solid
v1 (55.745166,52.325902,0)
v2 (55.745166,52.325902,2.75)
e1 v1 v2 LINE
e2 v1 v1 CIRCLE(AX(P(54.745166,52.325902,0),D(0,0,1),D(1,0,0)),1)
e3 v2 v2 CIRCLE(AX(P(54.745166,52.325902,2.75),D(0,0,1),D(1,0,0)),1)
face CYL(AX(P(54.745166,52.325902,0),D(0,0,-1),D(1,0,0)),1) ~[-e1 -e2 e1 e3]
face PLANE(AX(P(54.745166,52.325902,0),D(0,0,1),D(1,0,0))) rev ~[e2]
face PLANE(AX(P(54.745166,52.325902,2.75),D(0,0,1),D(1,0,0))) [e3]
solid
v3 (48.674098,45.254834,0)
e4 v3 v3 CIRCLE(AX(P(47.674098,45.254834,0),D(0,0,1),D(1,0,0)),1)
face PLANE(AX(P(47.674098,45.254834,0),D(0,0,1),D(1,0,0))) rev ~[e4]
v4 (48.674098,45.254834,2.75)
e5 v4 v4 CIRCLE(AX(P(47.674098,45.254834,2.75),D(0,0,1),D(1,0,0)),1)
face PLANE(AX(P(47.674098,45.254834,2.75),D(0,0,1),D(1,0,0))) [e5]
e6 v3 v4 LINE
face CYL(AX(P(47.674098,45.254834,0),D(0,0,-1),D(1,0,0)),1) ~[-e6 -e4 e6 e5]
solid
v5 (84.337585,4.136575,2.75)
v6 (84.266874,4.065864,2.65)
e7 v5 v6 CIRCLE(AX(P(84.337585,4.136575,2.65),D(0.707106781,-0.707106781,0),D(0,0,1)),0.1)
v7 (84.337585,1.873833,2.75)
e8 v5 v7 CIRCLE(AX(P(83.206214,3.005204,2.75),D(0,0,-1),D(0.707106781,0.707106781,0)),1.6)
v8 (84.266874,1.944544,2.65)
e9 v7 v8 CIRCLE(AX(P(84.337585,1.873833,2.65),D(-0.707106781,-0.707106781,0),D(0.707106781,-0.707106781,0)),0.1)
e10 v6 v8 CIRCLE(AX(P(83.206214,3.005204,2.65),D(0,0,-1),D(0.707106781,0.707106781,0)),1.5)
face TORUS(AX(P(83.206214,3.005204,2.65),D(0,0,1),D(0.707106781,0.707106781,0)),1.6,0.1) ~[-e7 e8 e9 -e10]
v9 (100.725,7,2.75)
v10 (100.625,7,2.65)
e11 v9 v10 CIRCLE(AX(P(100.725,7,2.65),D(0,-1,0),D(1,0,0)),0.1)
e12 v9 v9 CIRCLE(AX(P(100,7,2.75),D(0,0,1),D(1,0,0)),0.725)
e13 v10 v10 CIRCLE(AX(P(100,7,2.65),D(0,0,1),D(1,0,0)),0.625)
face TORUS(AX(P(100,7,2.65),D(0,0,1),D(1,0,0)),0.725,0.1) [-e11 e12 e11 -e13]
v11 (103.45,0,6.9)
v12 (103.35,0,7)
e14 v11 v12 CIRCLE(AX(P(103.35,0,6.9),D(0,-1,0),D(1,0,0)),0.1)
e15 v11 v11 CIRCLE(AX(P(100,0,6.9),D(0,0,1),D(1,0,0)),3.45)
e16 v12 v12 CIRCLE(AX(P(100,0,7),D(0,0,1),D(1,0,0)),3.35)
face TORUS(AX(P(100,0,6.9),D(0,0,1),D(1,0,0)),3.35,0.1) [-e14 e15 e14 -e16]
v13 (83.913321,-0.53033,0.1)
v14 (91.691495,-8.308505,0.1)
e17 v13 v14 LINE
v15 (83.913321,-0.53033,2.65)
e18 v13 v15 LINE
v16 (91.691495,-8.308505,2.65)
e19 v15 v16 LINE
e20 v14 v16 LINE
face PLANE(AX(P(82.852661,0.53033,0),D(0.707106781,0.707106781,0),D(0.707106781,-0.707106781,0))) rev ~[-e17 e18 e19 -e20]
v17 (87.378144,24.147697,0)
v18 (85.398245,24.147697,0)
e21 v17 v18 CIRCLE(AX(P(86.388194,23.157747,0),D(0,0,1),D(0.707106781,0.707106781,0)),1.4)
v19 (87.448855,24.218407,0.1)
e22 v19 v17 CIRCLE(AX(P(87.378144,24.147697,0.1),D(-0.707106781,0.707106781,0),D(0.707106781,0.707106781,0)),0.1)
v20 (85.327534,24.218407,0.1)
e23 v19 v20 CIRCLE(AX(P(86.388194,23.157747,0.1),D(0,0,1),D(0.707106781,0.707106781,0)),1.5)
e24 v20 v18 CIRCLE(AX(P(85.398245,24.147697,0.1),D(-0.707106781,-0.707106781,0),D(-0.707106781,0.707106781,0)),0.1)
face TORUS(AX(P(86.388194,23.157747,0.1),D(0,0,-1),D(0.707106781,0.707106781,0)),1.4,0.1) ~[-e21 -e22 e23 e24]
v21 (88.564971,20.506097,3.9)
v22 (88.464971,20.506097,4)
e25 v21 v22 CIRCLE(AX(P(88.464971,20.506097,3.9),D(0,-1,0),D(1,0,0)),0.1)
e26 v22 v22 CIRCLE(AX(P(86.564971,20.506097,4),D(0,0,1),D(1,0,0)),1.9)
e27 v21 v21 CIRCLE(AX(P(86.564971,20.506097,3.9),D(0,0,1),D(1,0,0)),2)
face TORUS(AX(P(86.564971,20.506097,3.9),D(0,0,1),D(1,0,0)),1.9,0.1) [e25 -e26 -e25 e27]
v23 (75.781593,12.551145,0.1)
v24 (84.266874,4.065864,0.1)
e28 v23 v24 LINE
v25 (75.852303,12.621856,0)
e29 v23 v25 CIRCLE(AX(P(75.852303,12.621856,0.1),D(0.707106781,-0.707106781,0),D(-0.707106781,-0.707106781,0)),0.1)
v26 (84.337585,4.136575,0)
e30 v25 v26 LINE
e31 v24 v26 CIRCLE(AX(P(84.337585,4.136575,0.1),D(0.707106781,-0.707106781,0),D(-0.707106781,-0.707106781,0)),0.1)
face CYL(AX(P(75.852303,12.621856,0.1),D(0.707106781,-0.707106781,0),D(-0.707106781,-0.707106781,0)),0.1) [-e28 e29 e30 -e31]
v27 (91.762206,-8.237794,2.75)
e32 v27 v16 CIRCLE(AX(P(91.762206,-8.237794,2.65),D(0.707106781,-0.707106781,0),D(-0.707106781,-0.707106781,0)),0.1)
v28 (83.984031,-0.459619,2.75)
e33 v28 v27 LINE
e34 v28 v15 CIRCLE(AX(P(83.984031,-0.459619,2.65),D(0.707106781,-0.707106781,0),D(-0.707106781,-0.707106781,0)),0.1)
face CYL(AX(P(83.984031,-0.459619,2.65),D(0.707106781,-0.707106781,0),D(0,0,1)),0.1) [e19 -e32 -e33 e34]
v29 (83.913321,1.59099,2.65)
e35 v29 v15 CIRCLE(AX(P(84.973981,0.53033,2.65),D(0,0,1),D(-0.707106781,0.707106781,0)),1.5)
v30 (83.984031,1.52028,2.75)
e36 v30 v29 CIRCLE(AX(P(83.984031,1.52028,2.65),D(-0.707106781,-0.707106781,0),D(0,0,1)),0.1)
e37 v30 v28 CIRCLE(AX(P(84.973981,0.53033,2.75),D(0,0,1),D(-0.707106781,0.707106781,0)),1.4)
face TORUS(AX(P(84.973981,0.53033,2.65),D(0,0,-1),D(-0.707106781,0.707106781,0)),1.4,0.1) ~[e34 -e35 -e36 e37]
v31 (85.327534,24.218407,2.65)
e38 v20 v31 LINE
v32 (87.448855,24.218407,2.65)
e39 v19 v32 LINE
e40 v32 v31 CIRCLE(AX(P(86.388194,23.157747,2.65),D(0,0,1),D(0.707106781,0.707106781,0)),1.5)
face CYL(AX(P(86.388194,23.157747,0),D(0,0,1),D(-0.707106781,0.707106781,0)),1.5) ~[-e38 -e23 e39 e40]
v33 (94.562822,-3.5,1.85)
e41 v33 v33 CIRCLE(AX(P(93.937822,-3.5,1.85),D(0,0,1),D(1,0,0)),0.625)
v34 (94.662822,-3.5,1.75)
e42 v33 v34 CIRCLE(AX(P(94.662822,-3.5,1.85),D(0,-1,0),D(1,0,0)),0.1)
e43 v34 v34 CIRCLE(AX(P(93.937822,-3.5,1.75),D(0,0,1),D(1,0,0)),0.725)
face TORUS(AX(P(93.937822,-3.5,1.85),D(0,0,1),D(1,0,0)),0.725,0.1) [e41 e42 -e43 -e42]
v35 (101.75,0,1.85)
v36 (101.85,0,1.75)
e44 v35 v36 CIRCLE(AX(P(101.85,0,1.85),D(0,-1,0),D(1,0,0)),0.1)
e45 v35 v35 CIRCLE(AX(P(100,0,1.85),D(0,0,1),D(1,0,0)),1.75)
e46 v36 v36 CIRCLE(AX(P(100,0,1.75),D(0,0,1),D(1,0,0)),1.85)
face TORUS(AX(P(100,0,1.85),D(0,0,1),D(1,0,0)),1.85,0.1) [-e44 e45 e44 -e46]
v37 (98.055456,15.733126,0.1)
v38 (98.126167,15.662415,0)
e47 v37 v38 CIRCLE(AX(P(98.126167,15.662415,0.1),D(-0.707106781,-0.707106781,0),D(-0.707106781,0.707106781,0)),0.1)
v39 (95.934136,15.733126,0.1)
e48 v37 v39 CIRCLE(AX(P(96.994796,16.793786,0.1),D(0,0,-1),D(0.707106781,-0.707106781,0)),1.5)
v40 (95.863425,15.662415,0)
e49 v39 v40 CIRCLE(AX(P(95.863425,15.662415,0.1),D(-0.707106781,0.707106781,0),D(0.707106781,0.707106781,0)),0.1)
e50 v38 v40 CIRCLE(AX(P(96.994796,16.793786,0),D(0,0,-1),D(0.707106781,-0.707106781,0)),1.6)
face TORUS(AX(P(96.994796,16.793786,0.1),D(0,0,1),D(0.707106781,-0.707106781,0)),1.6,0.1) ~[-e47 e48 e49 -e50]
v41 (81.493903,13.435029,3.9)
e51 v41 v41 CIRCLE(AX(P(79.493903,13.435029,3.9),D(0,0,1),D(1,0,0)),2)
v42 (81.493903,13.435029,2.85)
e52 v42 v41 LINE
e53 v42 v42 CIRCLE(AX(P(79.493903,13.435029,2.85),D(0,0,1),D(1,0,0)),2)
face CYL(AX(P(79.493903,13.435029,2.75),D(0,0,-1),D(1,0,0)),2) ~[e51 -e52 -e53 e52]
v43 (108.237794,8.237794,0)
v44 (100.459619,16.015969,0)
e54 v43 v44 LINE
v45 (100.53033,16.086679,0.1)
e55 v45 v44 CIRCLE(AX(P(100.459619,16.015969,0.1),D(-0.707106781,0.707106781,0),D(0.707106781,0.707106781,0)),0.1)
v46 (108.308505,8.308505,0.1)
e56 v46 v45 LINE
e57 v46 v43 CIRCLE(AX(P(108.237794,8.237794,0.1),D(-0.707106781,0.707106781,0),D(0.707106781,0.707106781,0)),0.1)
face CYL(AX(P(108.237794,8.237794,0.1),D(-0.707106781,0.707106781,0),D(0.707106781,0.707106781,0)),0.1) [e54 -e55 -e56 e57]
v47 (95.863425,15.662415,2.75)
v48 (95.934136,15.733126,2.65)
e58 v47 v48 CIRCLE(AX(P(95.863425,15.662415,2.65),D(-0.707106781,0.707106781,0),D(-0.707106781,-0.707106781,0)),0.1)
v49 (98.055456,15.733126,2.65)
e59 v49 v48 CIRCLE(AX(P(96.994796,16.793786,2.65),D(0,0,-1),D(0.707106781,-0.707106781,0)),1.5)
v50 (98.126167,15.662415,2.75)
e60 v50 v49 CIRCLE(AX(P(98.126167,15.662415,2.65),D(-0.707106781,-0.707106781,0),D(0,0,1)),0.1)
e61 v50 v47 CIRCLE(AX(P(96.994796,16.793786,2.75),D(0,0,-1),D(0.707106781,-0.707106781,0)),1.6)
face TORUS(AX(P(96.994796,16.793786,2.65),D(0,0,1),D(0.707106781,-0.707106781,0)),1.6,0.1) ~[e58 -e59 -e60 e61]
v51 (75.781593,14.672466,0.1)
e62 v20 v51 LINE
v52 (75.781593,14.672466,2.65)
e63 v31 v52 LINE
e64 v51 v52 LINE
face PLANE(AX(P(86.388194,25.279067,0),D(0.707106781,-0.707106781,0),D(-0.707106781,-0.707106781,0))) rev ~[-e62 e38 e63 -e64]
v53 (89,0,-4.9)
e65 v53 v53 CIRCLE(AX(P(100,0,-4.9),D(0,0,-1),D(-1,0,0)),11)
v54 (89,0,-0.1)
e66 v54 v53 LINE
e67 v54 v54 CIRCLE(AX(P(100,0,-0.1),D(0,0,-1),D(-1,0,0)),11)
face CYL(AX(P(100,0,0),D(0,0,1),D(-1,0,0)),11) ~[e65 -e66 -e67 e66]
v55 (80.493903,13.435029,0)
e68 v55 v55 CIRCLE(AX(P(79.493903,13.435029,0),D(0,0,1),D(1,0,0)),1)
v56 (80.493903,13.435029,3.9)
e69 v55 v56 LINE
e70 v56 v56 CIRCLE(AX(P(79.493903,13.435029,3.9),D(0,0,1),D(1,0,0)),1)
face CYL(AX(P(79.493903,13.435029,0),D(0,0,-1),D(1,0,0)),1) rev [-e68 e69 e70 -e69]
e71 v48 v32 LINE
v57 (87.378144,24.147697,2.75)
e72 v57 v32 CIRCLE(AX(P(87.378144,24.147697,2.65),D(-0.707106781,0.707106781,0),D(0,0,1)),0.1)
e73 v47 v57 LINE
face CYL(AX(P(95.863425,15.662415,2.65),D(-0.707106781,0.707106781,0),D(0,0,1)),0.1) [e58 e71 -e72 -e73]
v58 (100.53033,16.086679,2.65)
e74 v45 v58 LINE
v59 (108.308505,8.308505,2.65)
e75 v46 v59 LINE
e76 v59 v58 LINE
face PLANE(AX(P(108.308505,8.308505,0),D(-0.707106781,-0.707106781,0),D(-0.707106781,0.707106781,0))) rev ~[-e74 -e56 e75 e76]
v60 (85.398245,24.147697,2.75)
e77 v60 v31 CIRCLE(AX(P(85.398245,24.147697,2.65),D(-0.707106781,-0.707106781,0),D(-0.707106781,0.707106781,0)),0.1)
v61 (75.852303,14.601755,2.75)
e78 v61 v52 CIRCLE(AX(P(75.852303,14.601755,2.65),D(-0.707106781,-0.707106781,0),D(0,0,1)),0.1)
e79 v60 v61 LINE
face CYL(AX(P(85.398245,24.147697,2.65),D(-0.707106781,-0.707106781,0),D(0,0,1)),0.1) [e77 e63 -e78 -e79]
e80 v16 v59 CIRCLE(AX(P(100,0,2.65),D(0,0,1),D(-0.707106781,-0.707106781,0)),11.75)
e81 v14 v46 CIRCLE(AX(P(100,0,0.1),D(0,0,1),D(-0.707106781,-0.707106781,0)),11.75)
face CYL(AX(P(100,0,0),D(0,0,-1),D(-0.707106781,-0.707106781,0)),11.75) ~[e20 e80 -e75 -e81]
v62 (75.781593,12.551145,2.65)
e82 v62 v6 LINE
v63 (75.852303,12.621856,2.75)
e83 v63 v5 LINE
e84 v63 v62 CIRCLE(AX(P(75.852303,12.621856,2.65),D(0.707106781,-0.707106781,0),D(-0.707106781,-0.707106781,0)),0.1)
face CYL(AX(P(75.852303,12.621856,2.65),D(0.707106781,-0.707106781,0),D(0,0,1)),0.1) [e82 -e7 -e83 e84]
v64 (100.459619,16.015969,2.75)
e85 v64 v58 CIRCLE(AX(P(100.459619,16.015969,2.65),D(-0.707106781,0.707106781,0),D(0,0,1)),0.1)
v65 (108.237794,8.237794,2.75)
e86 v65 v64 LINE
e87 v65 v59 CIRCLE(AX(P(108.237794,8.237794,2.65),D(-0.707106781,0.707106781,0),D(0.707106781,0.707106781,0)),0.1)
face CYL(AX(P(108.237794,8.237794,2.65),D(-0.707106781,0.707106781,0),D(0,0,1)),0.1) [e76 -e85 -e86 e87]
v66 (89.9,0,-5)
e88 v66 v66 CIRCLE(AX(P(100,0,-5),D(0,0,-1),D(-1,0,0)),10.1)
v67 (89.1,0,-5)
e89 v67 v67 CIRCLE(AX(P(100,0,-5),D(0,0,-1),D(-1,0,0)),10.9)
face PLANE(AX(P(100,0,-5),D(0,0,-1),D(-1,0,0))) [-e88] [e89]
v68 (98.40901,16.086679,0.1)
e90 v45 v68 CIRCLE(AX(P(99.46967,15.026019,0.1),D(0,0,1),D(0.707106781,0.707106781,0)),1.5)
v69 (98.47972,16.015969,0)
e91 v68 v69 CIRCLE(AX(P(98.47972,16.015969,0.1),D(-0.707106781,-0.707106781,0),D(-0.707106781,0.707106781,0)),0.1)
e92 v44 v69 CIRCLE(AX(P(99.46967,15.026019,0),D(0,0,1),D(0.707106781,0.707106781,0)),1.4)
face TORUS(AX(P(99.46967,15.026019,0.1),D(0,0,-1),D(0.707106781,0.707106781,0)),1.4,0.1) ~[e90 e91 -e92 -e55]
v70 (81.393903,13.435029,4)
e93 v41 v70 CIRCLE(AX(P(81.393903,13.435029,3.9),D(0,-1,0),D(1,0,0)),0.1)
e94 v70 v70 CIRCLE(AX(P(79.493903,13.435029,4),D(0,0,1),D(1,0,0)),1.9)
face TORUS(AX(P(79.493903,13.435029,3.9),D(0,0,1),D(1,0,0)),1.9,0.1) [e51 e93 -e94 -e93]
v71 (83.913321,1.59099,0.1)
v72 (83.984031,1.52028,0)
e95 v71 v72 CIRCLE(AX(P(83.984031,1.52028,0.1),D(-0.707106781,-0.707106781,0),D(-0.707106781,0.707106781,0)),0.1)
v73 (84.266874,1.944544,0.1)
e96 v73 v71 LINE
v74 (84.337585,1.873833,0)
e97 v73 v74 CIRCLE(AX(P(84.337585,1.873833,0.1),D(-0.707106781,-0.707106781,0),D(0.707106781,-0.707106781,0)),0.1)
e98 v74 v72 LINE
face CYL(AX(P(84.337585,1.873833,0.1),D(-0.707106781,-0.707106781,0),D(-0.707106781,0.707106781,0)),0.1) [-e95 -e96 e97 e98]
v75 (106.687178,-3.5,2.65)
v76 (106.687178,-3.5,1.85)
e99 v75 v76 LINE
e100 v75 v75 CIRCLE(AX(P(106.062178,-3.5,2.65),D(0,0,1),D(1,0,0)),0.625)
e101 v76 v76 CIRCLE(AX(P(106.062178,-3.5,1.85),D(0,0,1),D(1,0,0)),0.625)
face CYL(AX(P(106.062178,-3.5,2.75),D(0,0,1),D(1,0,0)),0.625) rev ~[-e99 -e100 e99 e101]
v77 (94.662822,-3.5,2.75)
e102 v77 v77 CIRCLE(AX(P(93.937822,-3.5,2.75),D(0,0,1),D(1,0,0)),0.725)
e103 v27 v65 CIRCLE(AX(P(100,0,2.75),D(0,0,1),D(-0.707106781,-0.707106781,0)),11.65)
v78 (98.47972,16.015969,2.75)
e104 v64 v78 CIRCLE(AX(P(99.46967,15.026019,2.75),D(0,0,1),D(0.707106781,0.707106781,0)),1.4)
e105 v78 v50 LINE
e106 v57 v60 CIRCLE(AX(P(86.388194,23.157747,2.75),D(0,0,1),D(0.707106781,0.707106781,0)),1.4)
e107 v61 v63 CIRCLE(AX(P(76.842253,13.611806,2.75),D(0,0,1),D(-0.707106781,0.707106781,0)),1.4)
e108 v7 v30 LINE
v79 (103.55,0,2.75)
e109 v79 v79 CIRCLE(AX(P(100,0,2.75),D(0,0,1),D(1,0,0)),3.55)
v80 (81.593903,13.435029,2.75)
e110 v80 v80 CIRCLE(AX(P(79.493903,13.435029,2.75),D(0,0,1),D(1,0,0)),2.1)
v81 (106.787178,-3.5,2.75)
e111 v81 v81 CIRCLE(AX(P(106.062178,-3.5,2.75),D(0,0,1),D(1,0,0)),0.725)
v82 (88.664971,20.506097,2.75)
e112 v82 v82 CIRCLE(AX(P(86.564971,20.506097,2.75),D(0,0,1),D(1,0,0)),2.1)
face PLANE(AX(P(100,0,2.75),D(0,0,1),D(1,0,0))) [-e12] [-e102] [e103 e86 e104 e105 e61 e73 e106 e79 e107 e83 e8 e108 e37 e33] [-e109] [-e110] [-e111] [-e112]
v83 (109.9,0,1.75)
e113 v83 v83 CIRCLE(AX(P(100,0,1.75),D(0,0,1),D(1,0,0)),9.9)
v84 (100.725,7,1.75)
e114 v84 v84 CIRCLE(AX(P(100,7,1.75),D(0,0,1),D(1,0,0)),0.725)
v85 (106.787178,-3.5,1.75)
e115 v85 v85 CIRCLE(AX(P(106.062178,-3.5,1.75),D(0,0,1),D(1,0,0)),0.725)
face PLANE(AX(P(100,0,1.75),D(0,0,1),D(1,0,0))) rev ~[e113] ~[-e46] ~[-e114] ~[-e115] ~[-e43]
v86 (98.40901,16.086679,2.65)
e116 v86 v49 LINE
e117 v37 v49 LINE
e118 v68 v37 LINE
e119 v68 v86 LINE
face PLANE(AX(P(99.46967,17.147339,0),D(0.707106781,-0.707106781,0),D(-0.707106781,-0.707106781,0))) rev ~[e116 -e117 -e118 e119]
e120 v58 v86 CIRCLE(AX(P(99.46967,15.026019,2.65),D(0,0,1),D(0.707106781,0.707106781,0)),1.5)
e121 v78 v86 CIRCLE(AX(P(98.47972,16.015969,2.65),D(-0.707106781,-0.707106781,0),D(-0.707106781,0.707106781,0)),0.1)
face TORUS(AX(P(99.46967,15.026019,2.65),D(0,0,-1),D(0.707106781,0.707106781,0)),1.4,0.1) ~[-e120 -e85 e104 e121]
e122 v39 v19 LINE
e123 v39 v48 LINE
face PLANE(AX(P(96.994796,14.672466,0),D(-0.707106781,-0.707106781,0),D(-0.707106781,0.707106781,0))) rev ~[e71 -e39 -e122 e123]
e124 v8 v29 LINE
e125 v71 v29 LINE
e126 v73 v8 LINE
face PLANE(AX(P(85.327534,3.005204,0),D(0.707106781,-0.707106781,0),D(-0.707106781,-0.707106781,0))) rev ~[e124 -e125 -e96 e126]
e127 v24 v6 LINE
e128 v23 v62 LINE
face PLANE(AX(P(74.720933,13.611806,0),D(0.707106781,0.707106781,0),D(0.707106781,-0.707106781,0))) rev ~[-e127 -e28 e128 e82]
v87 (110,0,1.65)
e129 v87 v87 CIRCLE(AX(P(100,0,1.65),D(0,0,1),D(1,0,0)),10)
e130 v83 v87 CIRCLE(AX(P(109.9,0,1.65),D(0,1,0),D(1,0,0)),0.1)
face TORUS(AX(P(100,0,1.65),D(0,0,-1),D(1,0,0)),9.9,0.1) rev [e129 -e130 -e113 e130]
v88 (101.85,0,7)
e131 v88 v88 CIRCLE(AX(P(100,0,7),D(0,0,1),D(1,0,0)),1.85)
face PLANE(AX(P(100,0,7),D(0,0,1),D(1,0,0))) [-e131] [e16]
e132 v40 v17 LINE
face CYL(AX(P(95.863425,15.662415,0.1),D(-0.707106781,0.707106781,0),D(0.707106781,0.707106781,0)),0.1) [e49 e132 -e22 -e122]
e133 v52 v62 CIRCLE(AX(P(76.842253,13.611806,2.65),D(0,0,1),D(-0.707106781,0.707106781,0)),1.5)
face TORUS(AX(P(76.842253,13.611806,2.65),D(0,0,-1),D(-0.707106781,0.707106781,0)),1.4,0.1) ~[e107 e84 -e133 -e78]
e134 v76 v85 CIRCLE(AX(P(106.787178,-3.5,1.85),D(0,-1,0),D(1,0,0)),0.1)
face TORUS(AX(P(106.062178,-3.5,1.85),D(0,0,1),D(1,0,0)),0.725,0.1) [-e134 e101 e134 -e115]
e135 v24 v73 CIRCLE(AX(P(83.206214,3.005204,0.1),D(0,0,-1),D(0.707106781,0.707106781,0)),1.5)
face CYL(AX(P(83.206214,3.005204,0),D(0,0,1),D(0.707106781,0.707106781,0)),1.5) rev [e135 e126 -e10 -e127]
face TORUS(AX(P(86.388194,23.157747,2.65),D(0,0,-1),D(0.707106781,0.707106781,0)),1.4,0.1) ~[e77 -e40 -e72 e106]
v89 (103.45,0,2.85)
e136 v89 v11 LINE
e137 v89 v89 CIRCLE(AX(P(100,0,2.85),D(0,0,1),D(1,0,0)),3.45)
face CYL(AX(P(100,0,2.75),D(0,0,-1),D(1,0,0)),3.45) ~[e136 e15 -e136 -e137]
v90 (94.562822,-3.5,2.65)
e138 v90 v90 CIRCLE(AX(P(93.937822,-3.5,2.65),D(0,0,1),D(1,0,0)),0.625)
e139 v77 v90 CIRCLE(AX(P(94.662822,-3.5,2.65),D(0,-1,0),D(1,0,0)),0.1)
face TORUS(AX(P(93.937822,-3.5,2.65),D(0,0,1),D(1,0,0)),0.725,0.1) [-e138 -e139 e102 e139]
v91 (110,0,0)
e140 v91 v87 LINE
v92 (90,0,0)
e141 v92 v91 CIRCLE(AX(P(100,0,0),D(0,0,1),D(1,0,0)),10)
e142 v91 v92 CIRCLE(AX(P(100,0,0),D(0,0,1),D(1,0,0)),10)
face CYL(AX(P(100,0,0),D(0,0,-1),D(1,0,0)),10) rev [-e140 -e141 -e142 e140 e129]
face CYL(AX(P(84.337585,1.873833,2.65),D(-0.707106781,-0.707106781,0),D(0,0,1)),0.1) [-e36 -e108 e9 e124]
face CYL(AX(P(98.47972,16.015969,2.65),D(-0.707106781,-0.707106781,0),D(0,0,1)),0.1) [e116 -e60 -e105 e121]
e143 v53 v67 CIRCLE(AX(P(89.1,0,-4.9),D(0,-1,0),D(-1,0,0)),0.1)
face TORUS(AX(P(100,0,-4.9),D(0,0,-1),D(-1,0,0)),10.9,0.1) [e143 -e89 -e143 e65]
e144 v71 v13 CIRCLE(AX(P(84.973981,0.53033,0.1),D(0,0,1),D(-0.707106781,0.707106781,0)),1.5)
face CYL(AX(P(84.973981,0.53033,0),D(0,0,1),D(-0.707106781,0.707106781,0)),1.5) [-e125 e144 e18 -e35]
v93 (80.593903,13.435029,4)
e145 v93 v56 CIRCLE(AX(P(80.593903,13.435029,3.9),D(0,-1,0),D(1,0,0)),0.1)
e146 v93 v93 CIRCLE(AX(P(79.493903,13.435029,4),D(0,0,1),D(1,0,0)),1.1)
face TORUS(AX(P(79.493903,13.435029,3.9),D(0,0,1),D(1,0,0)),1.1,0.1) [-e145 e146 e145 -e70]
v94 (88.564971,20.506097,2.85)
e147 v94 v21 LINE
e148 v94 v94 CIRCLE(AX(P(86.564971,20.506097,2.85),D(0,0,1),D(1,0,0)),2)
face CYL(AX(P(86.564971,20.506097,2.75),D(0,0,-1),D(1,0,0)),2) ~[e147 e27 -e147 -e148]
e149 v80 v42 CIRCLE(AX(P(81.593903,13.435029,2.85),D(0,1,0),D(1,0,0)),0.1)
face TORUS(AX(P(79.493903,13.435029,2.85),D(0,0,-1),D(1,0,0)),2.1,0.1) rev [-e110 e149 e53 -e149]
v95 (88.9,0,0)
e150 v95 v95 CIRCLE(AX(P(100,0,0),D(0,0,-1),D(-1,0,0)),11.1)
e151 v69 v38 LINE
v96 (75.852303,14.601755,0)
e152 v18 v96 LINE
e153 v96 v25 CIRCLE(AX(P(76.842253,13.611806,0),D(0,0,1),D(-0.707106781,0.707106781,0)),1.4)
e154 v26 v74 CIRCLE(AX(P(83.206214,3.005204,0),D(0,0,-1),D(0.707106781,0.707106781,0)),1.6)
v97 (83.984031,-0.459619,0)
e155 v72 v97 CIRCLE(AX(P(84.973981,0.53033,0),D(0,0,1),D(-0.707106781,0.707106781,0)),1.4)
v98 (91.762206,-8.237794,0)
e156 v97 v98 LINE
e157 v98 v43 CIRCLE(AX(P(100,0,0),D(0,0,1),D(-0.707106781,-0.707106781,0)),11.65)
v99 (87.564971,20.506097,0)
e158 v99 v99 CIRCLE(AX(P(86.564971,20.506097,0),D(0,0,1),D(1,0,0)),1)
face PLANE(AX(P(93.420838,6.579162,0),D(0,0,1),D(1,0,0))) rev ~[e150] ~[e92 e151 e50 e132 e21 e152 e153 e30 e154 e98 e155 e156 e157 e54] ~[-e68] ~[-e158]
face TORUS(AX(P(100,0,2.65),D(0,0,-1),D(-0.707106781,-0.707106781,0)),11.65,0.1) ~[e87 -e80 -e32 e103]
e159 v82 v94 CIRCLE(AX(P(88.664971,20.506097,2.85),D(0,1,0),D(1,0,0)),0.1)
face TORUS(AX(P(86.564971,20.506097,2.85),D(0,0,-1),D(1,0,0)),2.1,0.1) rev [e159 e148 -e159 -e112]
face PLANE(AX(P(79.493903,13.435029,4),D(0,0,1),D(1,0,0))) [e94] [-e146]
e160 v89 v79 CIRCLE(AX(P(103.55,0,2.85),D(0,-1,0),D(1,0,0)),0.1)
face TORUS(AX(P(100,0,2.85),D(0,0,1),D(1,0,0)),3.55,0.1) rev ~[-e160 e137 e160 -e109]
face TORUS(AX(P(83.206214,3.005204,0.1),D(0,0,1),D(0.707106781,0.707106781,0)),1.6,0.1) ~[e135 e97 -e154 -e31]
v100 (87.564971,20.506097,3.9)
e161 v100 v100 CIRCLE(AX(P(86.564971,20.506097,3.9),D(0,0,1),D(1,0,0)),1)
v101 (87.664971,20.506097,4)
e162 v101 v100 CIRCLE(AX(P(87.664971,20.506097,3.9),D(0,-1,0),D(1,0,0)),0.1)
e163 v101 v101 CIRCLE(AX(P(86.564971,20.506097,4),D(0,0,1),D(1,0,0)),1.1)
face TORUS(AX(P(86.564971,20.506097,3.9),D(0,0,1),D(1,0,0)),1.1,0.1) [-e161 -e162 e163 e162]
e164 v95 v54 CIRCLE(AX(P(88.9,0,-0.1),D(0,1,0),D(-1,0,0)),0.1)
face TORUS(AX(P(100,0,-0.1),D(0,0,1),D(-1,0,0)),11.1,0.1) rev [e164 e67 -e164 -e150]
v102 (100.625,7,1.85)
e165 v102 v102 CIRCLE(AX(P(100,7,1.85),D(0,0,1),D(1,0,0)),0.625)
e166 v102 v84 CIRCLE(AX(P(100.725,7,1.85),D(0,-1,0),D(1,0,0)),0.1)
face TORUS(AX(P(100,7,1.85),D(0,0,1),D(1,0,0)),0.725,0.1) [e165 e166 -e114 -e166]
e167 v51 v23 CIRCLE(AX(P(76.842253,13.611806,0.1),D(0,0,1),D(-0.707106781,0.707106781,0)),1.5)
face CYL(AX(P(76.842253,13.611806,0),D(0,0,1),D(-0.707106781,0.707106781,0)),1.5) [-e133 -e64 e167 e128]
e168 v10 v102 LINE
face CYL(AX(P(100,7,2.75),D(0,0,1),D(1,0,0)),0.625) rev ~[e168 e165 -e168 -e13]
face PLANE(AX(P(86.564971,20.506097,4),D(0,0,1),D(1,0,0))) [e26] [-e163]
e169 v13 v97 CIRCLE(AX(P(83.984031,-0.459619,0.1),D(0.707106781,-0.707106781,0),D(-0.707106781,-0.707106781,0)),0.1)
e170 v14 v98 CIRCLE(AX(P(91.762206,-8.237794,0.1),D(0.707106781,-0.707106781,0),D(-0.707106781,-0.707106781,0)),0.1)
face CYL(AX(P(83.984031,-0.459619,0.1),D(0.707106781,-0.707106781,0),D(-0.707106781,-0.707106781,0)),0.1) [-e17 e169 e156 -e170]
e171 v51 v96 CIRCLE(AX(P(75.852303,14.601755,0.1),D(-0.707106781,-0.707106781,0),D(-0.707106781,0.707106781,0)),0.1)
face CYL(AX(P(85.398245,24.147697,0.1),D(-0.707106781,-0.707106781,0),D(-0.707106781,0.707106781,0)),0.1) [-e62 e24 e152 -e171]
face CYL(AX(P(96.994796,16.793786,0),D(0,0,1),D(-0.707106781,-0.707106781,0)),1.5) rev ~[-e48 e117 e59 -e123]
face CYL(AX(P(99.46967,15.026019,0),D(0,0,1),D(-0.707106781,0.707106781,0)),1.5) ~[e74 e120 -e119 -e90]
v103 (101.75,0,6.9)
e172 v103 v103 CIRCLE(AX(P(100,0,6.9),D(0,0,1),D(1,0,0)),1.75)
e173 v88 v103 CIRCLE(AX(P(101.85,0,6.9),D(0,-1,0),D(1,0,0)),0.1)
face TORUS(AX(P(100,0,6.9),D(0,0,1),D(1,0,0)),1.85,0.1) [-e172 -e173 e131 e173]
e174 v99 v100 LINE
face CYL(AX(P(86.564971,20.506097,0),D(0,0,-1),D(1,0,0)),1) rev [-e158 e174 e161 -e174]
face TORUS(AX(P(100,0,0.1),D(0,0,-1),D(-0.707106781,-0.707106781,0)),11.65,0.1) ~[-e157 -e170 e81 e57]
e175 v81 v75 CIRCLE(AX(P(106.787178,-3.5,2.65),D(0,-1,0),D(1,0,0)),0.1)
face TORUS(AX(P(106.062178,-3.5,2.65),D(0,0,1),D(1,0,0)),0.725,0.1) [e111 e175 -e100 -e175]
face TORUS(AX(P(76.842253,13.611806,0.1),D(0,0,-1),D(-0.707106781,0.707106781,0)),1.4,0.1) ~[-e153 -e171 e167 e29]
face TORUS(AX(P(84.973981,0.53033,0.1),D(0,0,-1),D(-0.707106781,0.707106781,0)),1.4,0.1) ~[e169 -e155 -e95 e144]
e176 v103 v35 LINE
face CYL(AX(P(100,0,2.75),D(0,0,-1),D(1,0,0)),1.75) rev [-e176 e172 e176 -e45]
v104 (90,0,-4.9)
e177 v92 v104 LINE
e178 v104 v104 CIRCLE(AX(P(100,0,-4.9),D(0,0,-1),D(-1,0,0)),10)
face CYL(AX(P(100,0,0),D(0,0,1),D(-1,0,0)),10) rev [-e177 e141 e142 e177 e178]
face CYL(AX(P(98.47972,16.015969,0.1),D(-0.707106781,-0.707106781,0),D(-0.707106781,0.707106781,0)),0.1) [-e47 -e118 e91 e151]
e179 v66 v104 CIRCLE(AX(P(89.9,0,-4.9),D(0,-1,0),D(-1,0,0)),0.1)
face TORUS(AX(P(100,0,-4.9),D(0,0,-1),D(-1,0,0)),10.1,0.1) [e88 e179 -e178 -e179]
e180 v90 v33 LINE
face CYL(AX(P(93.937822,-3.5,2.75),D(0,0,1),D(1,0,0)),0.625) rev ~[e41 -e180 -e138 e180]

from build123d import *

# Parameters (mm, degrees)
SKETCH3_R               = 1
BOSS_EXTRUDE1_DEPTH     = 2.75
BOSS_EXTRUDE1_2_DEPTH   = 2.75
SKETCH3_R_2             = 10
BOSS_EXTRUDE1_3_DEPTH   = 2.75
SKETCH4_R               = 10
BOSS_EXTRUDE3_DEPTH     = 1
SKETCH5_R               = 11
SKETCH5_R_2             = 10
BOSS_EXTRUDE4_DEPTH     = 5
FILLET1_R               = 1.5
SKETCH6_R               = 2
SKETCH6_R_2             = 1
BOSS_EXTRUDE5_DEPTH     = 1.25
SKETCH7_R               = 1.75
CUT_EXTRUDE1_DEPTH      = 1
SKETCH8_R               = 3.45
SKETCH8_R_2             = 1.75
BOSS_EXTRUDE6_DEPTH     = 4.25
SKETCH9_R               = 0.625
CUT_EXTRUDE2_DEPTH      = 1
FILLET2_R               = 0.1
SKETCH12_R              = 1
CUT_EXTRUDE4_DEPTH      = 8
CUT_EXTRUDE4_DEPTH_BACK = 6.0000001


with BuildPart() as part:
    # Sketch3 → Boss-Extrude1 (new body)
    with BuildSketch(Plane.XY):
        with Locations((47.674098192, 45.254833996)):
            Circle(SKETCH3_R)
    extrude(amount=BOSS_EXTRUDE1_DEPTH)


with BuildPart() as body_2:
    # Sketch3 → Boss-Extrude1 2 (new body)
    with BuildSketch(Plane.XY):
        with Locations((54.745166004, 52.325901808)):
            Circle(SKETCH3_R)
    extrude(amount=BOSS_EXTRUDE1_2_DEPTH)


with BuildPart() as body_3:
    # Sketch3 → Boss-Extrude1 3 (new body)
    with BuildSketch(Plane.XY):
        with BuildLine():
            Line((86.388194462, 25.279067427), (74.720932573, 13.611805538))
            Line((74.720932573, 13.611805538), (85.32753429, 3.00520382))
            Line((85.32753429, 3.00520382), (82.852660556, 0.530330086))
            Line((82.852660556, 0.530330086), (91.691495321, -8.308504679))
            ThreePointArc((91.691495321, -8.308504679), (108.308504679, -8.308504679), (108.308504679, 8.308504679))
            Line((108.308504679, 8.308504679), (99.469669914, 17.147339444))
            Line((99.469669914, 17.147339444), (96.99479618, 14.67246571))
            Line((96.99479618, 14.67246571), (86.388194462, 25.279067427))
        make_face()
        with Locations((100, 0)):
            Circle(SKETCH3_R_2, mode=Mode.SUBTRACT)
    extrude(amount=BOSS_EXTRUDE1_3_DEPTH)

    # Sketch4 → Boss-Extrude3 (add)
    with BuildSketch(Plane.XY.offset(2.75)):
        with Locations((100, 0)):
            Circle(SKETCH4_R)
    extrude(amount=-BOSS_EXTRUDE3_DEPTH)

    # Sketch5 → Boss-Extrude4 (add)
    with BuildSketch(Plane(origin=(0, 0, 0), x_dir=(-1, 0, 0), z_dir=(0, 0, -1))):
        with Locations((-100, 0)):
            Circle(SKETCH5_R)
        with Locations((-100, 0)):
            Circle(SKETCH5_R_2, mode=Mode.SUBTRACT)
    extrude(amount=BOSS_EXTRUDE4_DEPTH)

    # Fillet1
    fillet1_edges = [body_3.edges().sort_by_distance(p)[0] for p in [
        (96.99479618, 14.67246571, 1.375),
        (99.469669914, 17.147339444, 1.375),
        (82.852660556, 0.530330086, 1.375),
        (85.32753429, 3.00520382, 1.375),
        (74.720932573, 13.611805538, 1.375),
        (86.388194462, 25.279067427, 1.375),
    ]]
    fillet(fillet1_edges, radius=FILLET1_R)

    # Sketch6 → Boss-Extrude5 (add)
    with BuildSketch(Plane.XY.offset(2.75)):
        with Locations((86.564971157, 20.506096654)):
            Circle(SKETCH6_R)
        with Locations((86.564971157, 20.506096654)):
            Circle(SKETCH6_R_2, mode=Mode.SUBTRACT)
        with Locations((79.493903346, 13.435028843)):
            Circle(SKETCH6_R)
        with Locations((79.493903346, 13.435028843)):
            Circle(SKETCH6_R_2, mode=Mode.SUBTRACT)
    extrude(amount=BOSS_EXTRUDE5_DEPTH)

    # Sketch7 → Cut-Extrude1 (cut)
    with BuildSketch(Plane.XY.offset(2.75)):
        with Locations((100, 0)):
            Circle(SKETCH7_R)
    extrude(amount=-CUT_EXTRUDE1_DEPTH, mode=Mode.SUBTRACT)

    # Sketch8 → Boss-Extrude6 (add)
    with BuildSketch(Plane.XY.offset(2.75)):
        with Locations((100, 0)):
            Circle(SKETCH8_R)
        with Locations((100, 0)):
            Circle(SKETCH8_R_2, mode=Mode.SUBTRACT)
    extrude(amount=BOSS_EXTRUDE6_DEPTH)

    # Sketch9 → Cut-Extrude2 (cut)
    with BuildSketch(Plane.XY.offset(2.75)):
        with Locations((100, 7)):
            Circle(SKETCH9_R)
        with Locations((106.062177826, -3.5)):
            Circle(SKETCH9_R)
        with Locations((93.937822174, -3.5)):
            Circle(SKETCH9_R)
    extrude(amount=-CUT_EXTRUDE2_DEPTH, mode=Mode.SUBTRACT)

    # Fillet2
    fillet2_edges = [body_3.edges().sort_by_distance(p)[0] for p in [
        (96.55, 0, 7),
        (96.55, 0, 2.75),
        (98.25, 0, 7),
        (99.375, 7, 2.75),
        (99.375, 7, 1.75),
        (105.437177826, -3.5, 2.75),
        (105.437177826, -3.5, 1.75),
        (93.312822174, -3.5, 2.75),
        (93.312822174, -3.5, 1.75),
        (108.308504679, -8.308504679, 2.75),
        (104.419417382, 12.197591975, 2.75),
        (90, 0, 1.75),
        (111, 0, 0),
        (111, 0, -5),
        (110, 0, -5),
        (91.691495321, 19.975766569, 0),
        (91.691495321, 19.975766569, 2.75),
        (98.232233047, 15.909902577, 0),
        (98.232233047, 15.909902577, 2.75),
        (87.802408025, -4.419417382, 0),
        (84.090097423, 1.767766953, 0),
        (80.024233431, 8.308504679, 0),
        (80.554563517, 19.445436483, 0),
        (86.388194462, 24.657747084, 0),
        (75.342252916, 13.611805538, 0),
        (83.4739809, 0.530330086, 0),
        (99.469669914, 16.5260191, 0),
        (80.554563517, 19.445436483, 2.75),
        (80.024233431, 8.308504679, 2.75),
        (84.090097423, 1.767766953, 2.75),
        (87.802408025, -4.419417382, 2.75),
        (86.388194462, 24.657747084, 2.75),
        (75.342252916, 13.611805538, 2.75),
        (83.4739809, 0.530330086, 2.75),
        (99.469669914, 16.5260191, 2.75),
        (96.99479618, 15.293786053, 0),
        (96.99479618, 15.293786053, 2.75),
        (84.706213947, 3.00520382, 0),
        (84.706213947, 3.00520382, 2.75),
        (84.564971157, 20.506096654, 4),
        (84.564971157, 20.506096654, 2.75),
        (85.564971157, 20.506096654, 4),
        (77.493903346, 13.435028843, 4),
        (77.493903346, 13.435028843, 2.75),
        (104.419417382, 12.197591975, 0),
        (78.493903346, 13.435028843, 4),
        (108.308504679, -8.308504679, 0),
        (98.25, 0, 1.75),
    ]]
    fillet(fillet2_edges, radius=FILLET2_R)

    # Sketch12 → Cut-Extrude4 (cut, two sides)
    with BuildSketch(Plane.XY) as cut_extrude4_sk:
        with Locations((86.564971157, 20.506096654)):
            Circle(SKETCH12_R)
        with Locations((79.493903346, 13.435028843)):
            Circle(SKETCH12_R)
    extrude(amount=CUT_EXTRUDE4_DEPTH, mode=Mode.SUBTRACT)
    extrude(cut_extrude4_sk.sketch, amount=-CUT_EXTRUDE4_DEPTH_BACK, mode=Mode.SUBTRACT)


solid = Compound([part.part, body_2.part, body_3.part])
